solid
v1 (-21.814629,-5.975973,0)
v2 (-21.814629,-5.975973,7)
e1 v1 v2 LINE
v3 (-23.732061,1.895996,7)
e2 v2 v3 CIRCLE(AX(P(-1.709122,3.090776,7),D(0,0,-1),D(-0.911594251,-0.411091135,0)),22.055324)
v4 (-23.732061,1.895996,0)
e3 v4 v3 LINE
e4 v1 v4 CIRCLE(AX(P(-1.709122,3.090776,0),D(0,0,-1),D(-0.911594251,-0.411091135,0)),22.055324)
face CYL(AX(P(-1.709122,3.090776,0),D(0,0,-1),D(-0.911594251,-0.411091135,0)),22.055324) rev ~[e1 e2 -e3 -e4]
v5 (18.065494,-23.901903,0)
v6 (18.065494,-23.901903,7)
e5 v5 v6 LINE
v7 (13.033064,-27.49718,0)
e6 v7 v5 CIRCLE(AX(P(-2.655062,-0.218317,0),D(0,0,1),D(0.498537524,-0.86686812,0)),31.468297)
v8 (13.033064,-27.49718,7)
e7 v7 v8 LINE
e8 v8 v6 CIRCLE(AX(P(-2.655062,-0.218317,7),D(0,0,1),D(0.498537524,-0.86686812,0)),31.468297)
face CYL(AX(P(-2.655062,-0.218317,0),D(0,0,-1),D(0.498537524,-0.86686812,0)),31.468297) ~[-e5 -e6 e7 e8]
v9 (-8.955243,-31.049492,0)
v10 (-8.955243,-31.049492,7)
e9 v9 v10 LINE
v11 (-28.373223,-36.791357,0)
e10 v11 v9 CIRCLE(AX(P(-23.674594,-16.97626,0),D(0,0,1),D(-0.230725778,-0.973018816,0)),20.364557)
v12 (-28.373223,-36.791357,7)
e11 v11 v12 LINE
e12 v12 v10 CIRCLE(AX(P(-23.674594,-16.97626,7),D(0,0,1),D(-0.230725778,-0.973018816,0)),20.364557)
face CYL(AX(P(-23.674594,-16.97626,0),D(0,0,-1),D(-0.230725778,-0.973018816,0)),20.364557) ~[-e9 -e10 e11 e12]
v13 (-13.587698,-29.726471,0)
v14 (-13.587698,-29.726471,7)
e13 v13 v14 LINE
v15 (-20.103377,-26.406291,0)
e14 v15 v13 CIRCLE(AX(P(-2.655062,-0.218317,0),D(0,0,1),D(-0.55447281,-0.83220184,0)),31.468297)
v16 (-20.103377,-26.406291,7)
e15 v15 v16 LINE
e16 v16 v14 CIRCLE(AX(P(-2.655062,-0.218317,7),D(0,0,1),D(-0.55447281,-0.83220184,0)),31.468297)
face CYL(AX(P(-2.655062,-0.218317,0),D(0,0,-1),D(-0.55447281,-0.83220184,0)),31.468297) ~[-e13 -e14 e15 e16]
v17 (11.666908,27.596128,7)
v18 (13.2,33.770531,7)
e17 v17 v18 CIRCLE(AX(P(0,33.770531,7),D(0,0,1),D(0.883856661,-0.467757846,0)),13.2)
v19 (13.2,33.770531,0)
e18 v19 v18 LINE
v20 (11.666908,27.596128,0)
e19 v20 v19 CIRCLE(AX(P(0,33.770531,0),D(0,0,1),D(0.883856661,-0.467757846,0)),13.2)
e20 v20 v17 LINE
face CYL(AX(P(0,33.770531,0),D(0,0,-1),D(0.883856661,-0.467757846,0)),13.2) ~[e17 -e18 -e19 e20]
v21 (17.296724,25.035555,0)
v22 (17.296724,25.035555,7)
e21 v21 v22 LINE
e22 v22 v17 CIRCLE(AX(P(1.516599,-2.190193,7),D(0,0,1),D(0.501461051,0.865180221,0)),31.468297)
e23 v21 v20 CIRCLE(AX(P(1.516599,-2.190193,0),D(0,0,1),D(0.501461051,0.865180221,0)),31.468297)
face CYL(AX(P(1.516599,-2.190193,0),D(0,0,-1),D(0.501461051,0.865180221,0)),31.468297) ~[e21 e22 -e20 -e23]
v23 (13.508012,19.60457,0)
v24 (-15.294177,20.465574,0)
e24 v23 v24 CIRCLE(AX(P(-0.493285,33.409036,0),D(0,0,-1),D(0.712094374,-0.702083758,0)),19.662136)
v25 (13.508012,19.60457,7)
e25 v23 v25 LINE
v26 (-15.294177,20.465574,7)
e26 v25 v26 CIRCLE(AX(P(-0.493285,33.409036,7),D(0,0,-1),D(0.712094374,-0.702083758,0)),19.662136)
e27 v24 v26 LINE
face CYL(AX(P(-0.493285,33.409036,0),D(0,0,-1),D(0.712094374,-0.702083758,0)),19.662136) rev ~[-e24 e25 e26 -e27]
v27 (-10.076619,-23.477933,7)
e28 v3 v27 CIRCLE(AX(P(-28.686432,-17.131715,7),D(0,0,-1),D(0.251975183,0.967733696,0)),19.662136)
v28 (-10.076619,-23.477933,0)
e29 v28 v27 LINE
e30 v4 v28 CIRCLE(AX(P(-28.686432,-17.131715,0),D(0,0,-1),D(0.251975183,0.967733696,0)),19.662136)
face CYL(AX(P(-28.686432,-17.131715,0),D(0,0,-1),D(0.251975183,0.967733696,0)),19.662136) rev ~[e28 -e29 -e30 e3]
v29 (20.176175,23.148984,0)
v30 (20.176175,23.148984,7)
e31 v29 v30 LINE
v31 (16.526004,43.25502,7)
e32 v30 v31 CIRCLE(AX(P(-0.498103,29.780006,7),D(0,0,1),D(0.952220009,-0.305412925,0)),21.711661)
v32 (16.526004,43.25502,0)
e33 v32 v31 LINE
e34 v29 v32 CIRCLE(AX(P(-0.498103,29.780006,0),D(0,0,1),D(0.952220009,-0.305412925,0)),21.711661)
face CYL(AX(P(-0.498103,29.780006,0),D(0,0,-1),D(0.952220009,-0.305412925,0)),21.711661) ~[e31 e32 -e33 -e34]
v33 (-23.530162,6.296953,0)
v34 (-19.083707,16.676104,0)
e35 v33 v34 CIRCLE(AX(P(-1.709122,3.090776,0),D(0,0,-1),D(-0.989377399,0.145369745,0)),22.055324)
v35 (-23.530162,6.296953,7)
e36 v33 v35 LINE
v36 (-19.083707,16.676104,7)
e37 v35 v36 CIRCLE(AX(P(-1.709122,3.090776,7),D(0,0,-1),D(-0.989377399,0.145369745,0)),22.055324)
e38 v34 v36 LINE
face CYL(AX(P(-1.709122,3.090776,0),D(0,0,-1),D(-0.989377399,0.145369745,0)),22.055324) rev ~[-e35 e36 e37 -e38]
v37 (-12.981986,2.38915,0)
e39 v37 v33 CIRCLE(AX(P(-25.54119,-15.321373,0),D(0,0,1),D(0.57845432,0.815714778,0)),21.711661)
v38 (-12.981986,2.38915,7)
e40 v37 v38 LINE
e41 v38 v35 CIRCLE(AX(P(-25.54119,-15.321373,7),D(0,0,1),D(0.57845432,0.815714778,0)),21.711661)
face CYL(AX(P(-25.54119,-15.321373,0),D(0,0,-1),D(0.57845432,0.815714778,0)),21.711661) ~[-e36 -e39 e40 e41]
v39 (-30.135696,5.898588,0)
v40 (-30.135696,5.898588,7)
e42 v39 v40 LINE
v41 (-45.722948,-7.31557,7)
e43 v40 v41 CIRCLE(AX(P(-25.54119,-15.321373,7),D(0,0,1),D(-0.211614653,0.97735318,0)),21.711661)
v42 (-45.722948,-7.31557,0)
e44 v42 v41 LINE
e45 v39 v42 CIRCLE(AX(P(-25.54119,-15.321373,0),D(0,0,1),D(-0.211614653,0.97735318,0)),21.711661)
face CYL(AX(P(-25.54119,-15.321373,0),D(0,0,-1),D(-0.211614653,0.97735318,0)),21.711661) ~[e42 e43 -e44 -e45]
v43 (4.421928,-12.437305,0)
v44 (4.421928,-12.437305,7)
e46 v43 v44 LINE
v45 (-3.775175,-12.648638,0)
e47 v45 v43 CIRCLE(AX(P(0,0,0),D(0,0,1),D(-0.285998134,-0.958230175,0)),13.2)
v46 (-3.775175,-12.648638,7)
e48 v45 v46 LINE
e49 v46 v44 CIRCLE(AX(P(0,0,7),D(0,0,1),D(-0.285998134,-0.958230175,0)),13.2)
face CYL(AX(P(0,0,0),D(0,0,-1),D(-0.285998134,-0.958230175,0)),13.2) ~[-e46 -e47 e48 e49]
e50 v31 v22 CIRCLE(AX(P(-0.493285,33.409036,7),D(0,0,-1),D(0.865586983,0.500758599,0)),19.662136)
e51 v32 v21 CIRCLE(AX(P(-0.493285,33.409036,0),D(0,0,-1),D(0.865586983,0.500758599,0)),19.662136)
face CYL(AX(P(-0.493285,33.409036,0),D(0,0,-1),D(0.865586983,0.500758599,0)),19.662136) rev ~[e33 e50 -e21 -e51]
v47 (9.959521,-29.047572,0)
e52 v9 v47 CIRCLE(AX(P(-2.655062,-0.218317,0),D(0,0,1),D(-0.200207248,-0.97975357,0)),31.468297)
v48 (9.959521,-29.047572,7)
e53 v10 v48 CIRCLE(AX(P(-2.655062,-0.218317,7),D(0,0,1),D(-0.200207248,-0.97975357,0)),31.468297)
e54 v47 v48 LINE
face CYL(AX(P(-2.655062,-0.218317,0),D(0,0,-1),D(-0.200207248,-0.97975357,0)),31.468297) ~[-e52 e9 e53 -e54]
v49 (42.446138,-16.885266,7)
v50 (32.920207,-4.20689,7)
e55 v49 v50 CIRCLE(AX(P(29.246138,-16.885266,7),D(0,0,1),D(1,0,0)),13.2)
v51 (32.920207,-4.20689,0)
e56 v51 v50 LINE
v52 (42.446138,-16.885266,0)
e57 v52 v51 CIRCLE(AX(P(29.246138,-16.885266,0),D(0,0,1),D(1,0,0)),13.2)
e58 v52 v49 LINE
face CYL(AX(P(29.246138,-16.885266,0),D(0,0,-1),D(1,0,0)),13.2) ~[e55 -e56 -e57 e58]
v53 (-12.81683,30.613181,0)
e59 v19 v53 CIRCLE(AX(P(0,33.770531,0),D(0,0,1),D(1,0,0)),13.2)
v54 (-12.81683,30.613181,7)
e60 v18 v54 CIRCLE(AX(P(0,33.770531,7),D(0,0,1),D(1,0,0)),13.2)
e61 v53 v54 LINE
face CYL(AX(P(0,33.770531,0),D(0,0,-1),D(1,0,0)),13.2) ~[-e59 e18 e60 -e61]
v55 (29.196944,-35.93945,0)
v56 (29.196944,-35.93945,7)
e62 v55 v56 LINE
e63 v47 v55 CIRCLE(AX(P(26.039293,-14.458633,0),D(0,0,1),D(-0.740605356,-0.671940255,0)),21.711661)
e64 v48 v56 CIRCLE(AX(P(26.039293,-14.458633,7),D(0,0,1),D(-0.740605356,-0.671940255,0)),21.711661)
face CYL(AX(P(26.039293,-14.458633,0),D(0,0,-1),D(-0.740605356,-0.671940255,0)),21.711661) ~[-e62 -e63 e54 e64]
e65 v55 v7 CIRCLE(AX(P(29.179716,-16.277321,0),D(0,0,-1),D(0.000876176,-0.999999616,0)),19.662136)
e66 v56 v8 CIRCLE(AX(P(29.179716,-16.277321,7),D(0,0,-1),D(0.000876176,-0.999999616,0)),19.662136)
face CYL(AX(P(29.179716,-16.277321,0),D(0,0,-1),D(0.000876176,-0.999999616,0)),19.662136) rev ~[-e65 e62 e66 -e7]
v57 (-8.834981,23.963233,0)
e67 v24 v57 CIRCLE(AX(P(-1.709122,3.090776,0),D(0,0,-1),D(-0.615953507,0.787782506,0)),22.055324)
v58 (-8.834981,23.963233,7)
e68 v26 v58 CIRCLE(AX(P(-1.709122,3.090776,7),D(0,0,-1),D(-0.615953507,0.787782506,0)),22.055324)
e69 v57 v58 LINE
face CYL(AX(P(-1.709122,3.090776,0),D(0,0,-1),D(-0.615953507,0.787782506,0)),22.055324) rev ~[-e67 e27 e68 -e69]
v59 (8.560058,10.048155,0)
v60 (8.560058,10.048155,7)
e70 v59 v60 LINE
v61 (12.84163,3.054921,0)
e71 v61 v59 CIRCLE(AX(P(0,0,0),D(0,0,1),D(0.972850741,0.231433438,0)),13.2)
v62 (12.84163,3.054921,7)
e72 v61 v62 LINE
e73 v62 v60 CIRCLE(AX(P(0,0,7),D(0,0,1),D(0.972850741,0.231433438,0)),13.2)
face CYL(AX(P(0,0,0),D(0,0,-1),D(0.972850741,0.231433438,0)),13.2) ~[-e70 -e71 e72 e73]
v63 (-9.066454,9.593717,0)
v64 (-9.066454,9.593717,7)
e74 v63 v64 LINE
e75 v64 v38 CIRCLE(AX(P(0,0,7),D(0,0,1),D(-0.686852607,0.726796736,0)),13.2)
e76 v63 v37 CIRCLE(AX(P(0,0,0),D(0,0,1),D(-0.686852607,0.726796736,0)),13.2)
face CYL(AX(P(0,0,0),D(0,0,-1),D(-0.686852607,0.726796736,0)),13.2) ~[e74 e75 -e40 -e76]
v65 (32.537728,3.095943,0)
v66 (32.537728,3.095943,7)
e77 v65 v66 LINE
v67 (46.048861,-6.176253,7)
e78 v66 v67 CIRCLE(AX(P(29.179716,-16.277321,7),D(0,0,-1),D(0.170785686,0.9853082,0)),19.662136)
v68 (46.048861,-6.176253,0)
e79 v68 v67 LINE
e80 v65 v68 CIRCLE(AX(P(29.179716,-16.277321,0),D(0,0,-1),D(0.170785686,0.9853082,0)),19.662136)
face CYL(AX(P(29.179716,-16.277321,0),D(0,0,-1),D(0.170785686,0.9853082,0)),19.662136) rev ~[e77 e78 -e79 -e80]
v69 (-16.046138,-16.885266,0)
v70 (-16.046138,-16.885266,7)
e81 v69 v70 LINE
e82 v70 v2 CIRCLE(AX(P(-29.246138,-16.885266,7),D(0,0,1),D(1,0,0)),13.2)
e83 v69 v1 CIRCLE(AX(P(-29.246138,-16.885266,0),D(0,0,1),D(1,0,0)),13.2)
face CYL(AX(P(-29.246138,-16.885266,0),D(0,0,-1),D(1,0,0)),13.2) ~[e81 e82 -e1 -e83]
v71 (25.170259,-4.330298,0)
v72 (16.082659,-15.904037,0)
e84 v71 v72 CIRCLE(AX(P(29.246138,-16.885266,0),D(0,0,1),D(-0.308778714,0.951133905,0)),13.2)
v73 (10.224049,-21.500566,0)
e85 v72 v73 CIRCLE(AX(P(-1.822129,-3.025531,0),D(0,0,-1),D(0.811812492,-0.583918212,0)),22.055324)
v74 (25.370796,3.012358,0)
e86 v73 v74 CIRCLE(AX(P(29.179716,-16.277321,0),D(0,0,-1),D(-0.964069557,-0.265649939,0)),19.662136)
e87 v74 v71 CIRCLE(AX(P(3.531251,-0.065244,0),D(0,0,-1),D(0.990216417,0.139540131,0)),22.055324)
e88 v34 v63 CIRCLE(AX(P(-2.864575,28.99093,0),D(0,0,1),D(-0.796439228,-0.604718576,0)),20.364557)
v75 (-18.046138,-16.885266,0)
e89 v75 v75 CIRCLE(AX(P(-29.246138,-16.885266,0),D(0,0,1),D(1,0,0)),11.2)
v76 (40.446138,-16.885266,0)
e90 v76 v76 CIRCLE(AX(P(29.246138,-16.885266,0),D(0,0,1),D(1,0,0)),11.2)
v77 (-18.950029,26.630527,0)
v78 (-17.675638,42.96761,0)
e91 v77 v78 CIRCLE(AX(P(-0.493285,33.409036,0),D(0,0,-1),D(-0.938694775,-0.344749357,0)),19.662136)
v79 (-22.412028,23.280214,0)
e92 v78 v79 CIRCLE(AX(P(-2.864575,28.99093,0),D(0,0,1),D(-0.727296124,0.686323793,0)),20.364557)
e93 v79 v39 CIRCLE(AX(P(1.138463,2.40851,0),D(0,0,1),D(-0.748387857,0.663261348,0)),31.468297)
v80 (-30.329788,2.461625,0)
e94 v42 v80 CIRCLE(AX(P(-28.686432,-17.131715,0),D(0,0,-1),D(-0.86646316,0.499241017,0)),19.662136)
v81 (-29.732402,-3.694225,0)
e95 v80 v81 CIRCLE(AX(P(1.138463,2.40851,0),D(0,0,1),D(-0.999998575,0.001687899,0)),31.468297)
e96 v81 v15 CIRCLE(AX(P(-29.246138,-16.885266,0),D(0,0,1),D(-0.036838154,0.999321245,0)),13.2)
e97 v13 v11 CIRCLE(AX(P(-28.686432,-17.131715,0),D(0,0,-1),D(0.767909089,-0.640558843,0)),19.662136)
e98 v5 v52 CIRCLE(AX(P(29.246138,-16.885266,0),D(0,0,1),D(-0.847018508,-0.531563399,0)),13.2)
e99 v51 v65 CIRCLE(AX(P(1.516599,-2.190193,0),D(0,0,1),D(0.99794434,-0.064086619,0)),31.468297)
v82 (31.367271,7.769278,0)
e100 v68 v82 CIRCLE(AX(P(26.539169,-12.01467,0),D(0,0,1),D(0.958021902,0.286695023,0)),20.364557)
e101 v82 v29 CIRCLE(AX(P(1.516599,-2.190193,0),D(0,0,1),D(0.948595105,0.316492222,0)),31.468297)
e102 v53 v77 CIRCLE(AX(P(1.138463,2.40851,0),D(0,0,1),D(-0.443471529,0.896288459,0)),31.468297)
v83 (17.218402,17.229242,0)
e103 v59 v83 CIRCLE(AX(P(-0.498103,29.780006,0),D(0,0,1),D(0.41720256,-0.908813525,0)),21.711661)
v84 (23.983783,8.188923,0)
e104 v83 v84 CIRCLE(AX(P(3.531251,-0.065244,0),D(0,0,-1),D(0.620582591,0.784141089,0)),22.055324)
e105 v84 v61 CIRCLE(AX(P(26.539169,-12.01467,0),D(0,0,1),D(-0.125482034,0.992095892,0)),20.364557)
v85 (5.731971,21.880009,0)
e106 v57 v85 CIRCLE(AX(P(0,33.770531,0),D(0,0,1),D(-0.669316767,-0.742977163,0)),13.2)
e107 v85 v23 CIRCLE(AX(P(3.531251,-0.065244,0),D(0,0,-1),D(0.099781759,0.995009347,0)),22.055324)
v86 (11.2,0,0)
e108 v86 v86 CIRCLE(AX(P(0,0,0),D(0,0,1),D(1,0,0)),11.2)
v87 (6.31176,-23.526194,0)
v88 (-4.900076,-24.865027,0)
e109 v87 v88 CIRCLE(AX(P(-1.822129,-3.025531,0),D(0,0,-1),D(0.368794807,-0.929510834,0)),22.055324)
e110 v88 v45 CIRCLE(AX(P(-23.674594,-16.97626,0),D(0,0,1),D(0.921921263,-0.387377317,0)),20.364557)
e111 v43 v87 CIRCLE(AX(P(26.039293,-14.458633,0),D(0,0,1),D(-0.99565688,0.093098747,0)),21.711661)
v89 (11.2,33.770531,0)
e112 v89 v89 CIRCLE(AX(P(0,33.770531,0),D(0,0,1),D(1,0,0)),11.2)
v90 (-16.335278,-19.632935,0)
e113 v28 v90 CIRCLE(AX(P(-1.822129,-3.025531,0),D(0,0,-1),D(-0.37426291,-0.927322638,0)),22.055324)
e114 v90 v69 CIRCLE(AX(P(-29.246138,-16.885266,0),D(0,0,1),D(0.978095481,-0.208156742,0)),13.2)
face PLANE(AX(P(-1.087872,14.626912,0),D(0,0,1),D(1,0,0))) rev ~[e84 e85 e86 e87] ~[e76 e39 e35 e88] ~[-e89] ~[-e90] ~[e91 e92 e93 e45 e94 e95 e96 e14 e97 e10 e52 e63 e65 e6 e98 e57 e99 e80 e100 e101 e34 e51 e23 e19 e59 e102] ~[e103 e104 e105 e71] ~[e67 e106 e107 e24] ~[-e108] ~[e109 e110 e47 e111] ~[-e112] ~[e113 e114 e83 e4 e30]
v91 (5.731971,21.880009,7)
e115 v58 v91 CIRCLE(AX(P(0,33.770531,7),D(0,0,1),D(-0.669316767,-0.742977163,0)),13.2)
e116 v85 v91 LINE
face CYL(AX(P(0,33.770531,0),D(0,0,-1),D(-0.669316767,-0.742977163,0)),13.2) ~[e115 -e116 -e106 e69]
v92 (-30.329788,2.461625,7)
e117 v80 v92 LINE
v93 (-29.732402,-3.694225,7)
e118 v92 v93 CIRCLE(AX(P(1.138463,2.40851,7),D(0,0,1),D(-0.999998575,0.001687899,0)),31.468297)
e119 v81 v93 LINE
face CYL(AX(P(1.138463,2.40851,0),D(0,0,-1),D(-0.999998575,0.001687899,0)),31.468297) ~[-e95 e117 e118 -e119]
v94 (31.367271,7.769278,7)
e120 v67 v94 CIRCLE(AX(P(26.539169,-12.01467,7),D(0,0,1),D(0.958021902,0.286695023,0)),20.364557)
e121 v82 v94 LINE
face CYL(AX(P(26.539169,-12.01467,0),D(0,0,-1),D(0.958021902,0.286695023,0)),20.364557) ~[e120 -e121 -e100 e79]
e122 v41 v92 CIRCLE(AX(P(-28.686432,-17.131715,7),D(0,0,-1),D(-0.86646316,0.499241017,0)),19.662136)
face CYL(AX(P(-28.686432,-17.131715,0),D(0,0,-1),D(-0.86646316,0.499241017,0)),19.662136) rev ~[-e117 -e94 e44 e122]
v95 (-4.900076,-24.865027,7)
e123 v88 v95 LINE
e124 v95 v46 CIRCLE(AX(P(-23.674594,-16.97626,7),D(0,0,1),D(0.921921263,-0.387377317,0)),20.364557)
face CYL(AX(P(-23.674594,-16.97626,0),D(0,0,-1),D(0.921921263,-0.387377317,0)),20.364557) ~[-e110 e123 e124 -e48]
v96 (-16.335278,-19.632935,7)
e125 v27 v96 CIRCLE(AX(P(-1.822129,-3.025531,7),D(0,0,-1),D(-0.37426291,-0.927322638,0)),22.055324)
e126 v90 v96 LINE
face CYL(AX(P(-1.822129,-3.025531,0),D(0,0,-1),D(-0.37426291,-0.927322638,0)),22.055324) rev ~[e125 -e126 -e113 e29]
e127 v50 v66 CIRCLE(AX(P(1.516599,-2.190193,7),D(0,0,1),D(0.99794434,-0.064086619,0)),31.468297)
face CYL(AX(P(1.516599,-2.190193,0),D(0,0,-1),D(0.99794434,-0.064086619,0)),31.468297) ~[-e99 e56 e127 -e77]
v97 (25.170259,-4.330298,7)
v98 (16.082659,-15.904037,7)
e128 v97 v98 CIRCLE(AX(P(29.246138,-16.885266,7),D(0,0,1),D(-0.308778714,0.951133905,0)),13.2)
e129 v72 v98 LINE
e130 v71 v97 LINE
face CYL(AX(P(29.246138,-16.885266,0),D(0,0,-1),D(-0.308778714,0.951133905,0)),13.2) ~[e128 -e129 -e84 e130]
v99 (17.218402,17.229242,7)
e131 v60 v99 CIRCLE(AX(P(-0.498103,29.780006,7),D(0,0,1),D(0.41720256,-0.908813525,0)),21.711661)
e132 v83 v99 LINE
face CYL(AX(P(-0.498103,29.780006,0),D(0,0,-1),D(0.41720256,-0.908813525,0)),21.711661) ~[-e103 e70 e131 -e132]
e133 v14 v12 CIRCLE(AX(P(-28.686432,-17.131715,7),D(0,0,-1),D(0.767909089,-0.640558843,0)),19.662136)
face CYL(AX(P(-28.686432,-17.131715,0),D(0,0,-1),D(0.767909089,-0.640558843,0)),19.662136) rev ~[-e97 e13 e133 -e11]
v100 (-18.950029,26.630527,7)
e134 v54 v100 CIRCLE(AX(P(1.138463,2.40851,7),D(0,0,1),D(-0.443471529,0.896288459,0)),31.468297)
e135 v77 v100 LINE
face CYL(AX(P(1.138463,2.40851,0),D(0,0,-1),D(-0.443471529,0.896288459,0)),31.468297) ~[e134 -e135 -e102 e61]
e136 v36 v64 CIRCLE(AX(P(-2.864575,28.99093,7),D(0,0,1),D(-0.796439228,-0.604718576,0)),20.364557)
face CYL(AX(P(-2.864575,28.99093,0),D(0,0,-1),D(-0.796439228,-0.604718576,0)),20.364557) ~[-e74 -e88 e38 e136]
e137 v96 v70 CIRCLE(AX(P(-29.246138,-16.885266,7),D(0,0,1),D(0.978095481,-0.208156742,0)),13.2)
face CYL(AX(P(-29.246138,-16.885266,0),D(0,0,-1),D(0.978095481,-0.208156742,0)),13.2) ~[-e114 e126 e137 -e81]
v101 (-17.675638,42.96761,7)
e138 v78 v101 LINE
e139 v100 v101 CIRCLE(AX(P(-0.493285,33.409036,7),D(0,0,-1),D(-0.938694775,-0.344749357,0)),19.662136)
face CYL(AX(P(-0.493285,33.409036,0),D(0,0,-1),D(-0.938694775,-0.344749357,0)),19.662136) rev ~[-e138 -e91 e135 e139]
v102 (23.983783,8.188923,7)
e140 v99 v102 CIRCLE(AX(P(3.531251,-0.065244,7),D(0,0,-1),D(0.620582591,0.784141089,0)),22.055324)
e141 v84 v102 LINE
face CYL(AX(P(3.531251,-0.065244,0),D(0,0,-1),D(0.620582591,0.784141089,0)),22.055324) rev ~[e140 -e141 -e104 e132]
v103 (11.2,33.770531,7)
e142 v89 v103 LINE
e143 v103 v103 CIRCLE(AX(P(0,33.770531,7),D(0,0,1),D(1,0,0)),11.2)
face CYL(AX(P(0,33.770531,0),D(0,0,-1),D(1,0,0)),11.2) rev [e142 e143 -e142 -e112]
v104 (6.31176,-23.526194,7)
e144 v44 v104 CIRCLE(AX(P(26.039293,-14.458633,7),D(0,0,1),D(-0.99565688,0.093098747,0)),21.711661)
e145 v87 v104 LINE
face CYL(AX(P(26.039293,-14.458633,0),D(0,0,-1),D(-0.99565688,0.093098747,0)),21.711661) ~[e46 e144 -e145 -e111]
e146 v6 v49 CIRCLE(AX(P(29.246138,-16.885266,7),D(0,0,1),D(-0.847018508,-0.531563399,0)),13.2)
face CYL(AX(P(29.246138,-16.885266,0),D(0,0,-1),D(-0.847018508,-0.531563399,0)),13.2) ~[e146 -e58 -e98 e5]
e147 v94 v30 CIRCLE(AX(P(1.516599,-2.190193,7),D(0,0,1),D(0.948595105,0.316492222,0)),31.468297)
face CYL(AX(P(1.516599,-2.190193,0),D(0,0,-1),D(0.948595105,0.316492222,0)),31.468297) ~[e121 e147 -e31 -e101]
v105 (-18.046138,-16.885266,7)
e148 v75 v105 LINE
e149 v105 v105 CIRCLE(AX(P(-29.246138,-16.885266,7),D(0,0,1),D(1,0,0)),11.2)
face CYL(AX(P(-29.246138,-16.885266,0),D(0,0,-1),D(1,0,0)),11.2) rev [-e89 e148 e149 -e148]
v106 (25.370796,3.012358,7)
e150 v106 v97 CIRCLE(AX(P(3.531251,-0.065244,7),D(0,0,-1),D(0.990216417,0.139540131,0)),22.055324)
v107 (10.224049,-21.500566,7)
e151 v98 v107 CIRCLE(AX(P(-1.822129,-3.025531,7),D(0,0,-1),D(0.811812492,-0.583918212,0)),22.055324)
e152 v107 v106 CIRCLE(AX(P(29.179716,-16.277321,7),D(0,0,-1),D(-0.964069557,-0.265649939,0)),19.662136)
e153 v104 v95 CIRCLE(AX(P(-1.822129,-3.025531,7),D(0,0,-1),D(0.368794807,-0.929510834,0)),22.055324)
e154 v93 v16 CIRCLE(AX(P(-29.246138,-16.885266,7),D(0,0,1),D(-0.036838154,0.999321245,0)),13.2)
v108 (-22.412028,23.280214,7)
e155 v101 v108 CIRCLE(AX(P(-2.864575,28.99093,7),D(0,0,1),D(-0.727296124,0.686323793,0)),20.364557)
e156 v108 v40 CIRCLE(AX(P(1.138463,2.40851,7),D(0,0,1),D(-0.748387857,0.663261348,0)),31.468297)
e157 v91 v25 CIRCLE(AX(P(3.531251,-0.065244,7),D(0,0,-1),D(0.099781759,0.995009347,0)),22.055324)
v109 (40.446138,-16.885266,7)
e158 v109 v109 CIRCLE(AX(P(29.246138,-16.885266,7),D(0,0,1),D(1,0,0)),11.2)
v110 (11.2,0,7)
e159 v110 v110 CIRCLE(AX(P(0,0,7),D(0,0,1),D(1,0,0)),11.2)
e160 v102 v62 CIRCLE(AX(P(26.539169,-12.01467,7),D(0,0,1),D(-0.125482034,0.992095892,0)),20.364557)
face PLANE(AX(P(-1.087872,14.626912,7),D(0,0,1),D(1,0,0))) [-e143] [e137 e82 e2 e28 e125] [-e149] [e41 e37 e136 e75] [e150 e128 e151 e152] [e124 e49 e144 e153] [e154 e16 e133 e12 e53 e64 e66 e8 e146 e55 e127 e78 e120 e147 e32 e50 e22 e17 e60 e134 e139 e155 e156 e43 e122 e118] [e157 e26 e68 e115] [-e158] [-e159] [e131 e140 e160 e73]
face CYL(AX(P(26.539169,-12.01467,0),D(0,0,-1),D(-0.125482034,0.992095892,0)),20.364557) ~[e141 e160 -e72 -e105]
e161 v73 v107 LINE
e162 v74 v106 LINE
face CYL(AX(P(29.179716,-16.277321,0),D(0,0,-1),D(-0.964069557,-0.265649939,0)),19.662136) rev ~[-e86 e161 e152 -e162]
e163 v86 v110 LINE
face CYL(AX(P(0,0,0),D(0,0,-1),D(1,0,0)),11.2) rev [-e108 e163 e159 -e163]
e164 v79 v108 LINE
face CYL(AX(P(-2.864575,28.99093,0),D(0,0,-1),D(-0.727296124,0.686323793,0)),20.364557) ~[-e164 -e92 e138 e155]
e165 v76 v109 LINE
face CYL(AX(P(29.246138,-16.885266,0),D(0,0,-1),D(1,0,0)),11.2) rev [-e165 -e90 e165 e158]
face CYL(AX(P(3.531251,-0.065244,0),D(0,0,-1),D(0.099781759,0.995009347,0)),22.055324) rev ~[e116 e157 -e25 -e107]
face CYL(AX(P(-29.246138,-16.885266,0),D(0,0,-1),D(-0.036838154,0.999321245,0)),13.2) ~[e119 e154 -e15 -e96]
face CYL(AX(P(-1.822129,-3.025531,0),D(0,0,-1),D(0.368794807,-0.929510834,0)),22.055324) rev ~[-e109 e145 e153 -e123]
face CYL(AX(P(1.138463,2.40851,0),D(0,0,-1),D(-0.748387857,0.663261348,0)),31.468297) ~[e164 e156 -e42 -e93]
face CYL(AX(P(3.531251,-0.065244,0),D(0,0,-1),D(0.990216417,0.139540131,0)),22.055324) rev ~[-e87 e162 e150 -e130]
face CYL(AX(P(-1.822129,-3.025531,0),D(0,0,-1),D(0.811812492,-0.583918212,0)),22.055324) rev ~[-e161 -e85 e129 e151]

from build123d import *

# Parameters (mm, degrees)
F0_R     = 11.2
F1_DEPTH = 7


with BuildPart() as f1:
    # F0 (on Top) → F1 (new body)
    with BuildSketch(Plane.XY):
        with BuildLine():
            ThreePointArc((-9.0664544139, 9.593716921), (-0.3402026464, 13.1956152626), (8.5600576622, 10.0481546973))
            ThreePointArc((8.5600576622, 10.0481546973), (13.3623688649, 13.0682272047), (17.2184018315, 17.229241576))
            ThreePointArc((17.2184018315, 17.229241576), (15.4226648447, 18.5097823264), (13.5080117048, 19.6045696542))
            ThreePointArc((13.5080117048, 19.6045696542), (-1.0807969762, 13.7556794158), (-15.2941767487, 20.4655744367))
            ThreePointArc((-15.2941767487, 20.4655744367), (-17.3044688505, 18.6863680779), (-19.0837069005, 16.676104025))
            ThreePointArc((-19.0837069005, 16.676104025), (-14.6210833504, 12.36265011), (-9.0664544139, 9.593716921))
        make_face()
        with BuildLine():
            ThreePointArc((12.8416297773, 3.0549213841), (13.1101013165, 1.5379348068), (13.2, 0))
            ThreePointArc((13.2, 0), (10.7844669514, -7.6115223559), (4.4219283979, -12.4373047419))
            ThreePointArc((4.4219283979, -12.4373047419), (4.6362323092, -18.1062644941), (6.311759977, -23.5261941867))
            ThreePointArc((6.311759977, -23.5261941867), (8.3186092908, -22.6113107128), (10.2240494984, -21.5005661181))
            ThreePointArc((10.2240494984, -21.5005661181), (12.4531663085, -5.9418420702), (25.3707957396, 3.012358376))
            ThreePointArc((25.3707957396, 3.012358376), (24.8351038852, 5.6429255846), (23.983783172, 8.1889229618))
            ThreePointArc((23.983783172, 8.1889229618), (18.0169107285, 6.4809045573), (12.8416297773, 3.0549213841))
        make_face()
        with BuildLine():
            ThreePointArc((-4.9000762715, -24.8650269867), (-3.3958273782, -18.8435546673), (-3.7751753634, -12.6486383052))
            ThreePointArc((-3.7751753634, -12.6486383052), (-11.2576367128, -6.8924317656), (-12.9819860601, 2.3891500447))
            ThreePointArc((-12.9819860601, 2.3891500447), (-17.9986011741, 5.0380372894), (-23.5301618085, 6.2969526107))
            ThreePointArc((-23.5301618085, 6.2969526107), (-23.7412741356, 4.1015283864), (-23.7320612032, 1.8959964639))
            ThreePointArc((-23.7320612032, 1.8959964639), (-11.3723693323, -7.8138373456), (-10.0766189909, -23.4779328127))
            ThreePointArc((-10.0766189909, -23.4779328127), (-7.5306350347, -24.3292936625), (-4.9000762715, -24.8650269867))
        make_face()
        with BuildLine():
            ThreePointArc((4.4219283979, -12.4373047419), (10.7844669514, -7.6115223559), (13.2, 0))
            ThreePointArc((13.2, 0), (13.1101013165, 1.5379348068), (12.8416297773, 3.0549213841))
            ThreePointArc((12.8416297773, 3.0549213841), (11.2576367128, 6.8924317656), (8.5600576622, 10.0481546973))
            ThreePointArc((8.5600576622, 10.0481546973), (-0.3402026464, 13.1956152626), (-9.0664544139, 9.593716921))
            ThreePointArc((-9.0664544139, 9.593716921), (-11.5978393592, 6.3031834971), (-12.9819860601, 2.3891500447))
            ThreePointArc((-12.9819860601, 2.3891500447), (-11.2576367128, -6.8924317656), (-3.7751753634, -12.6486383052))
            ThreePointArc((-3.7751753634, -12.6486383052), (0.3402026464, -13.1956152626), (4.4219283979, -12.4373047419))
        make_face()
        Circle(F0_R, mode=Mode.SUBTRACT)
        with BuildLine():
            ThreePointArc((32.9202071932, -4.2068897734), (29.0359709967, -3.6869389282), (25.1702590813, -4.330298158))
            ThreePointArc((25.1702590813, -4.330298158), (18.8640994661, -8.7333779701), (16.0826587078, -15.9040368123))
            ThreePointArc((16.0826587078, -15.9040368123), (16.4340128371, -20.0616545549), (18.0654938023, -23.9019025779))
            ThreePointArc((18.0654938023, -23.9019025779), (32.8968568839, -29.5703850374), (42.4461381055, -16.885265708))
            ThreePointArc((42.4461381055, -16.885265708), (39.79928247, -8.9561330933), (32.9202071932, -4.2068897734))
        make_face()
        with Locations((29.2461381055, -16.885265708)):
            Circle(F0_R, mode=Mode.SUBTRACT)
        with BuildLine():
            ThreePointArc((-20.1033770112, -26.4062908404), (-17.7109682723, -23.3024190426), (-16.3352777515, -19.6329347052))
            ThreePointArc((-16.3352777515, -19.6329347052), (-16.1186220291, -18.2666858697), (-16.0461381055, -16.885265708))
            ThreePointArc((-16.0461381055, -16.885265708), (-17.5770353805, -10.715011127), (-21.8146292561, -5.9759725952))
            ThreePointArc((-21.8146292561, -5.9759725952), (-25.5909089051, -4.2014453256), (-29.7324017324, -3.6942252757))
            ThreePointArc((-29.7324017324, -3.6942252757), (-41.3990479486, -22.0376226779), (-20.1033770112, -26.4062908404))
        make_face()
        with Locations((-29.2461381055, -16.885265708)):
            Circle(F0_R, mode=Mode.SUBTRACT)
        with BuildLine():
            ThreePointArc((-8.8349813298, 23.9632328632), (-1.8687225501, 20.7034783422), (5.7319705483, 21.8800094075))
            ThreePointArc((5.7319705483, 21.8800094075), (9.156896068, 24.2630998805), (11.6669079301, 27.5961278537))
            ThreePointArc((11.6669079301, 27.5961278537), (12.8109949785, 30.5895869554), (13.2, 33.7705314159))
            ThreePointArc((13.2, 33.7705314159), (-1.590258092, 46.8743888328), (-12.8168301819, 30.6131806138))
            ThreePointArc((-12.8168301819, 30.6131806138), (-11.3250027243, 26.9893579708), (-8.8349813298, 23.9632328632))
        make_face()
        with Locations((0, 33.7705314159)):
            Circle(F0_R, mode=Mode.SUBTRACT)
        with BuildLine():
            ThreePointArc((17.2184018315, 17.229241576), (21.1894312467, 13.1493694022), (23.983783172, 8.1889229618))
            ThreePointArc((23.983783172, 8.1889229618), (27.6947359518, 8.3170744376), (31.3672708376, 7.769278082))
            ThreePointArc((31.3672708376, 7.769278082), (26.9615371909, 16.3249034182), (20.1761751997, 23.1489840527))
            ThreePointArc((20.1761751997, 23.1489840527), (18.9241495267, 20.0757627051), (17.2184018315, 17.229241576))
        make_face()
        with BuildLine():
            ThreePointArc((5.7319705483, 21.8800094075), (9.725374259, 21.102423687), (13.5080117048, 19.6045696542))
            ThreePointArc((13.5080117048, 19.6045696542), (15.6326468091, 22.1594171164), (17.2967238329, 25.0355547244))
            ThreePointArc((17.2967238329, 25.0355547244), (14.5448752652, 26.4544870934), (11.6669079301, 27.5961278537))
            ThreePointArc((11.6669079301, 27.5961278537), (9.156896068, 24.2630998805), (5.7319705483, 21.8800094075))
        make_face()
        with BuildLine():
            ThreePointArc((13.5080117048, 19.6045696542), (15.4226648447, 18.5097823264), (17.2184018315, 17.229241576))
            ThreePointArc((17.2184018315, 17.229241576), (18.9241495267, 20.0757627051), (20.1761751997, 23.1489840527))
            ThreePointArc((20.1761751997, 23.1489840527), (18.7622662534, 24.1316731809), (17.2967238329, 25.0355547244))
            ThreePointArc((17.2967238329, 25.0355547244), (15.6326468091, 22.1594171164), (13.5080117048, 19.6045696542))
        make_face()
        with BuildLine():
            ThreePointArc((31.3672708376, 7.769278082), (27.6947359518, 8.3170744376), (23.983783172, 8.1889229618))
            ThreePointArc((23.983783172, 8.1889229618), (24.8351038852, 5.6429255846), (25.3707957396, 3.012358376))
            ThreePointArc((25.3707957396, 3.012358376), (28.9504210038, 3.3834783518), (32.5377278794, 3.0959432247))
            ThreePointArc((32.5377278794, 3.0959432247), (32.0420645208, 5.4550426378), (31.3672708376, 7.769278082))
        make_face()
        with BuildLine():
            ThreePointArc((32.5377278794, 3.0959432247), (28.9504210038, 3.3834783518), (25.3707957396, 3.012358376))
            ThreePointArc((25.3707957396, 3.012358376), (25.5783549003, -0.6673770248), (25.1702590813, -4.330298158))
            ThreePointArc((25.1702590813, -4.330298158), (29.0359709967, -3.6869389282), (32.9202071932, -4.2068897734))
            ThreePointArc((32.9202071932, -4.2068897734), (32.9418244088, -0.544325087), (32.5377278794, 3.0959432247))
        make_face()
        with BuildLine():
            ThreePointArc((46.0488609523, -6.1762533223), (40.5642006941, 2.7506157789), (31.3672708376, 7.769278082))
            ThreePointArc((31.3672708376, 7.769278082), (32.0420645208, 5.4550426378), (32.5377278794, 3.0959432247))
            ThreePointArc((32.5377278794, 3.0959432247), (40.3052666152, -0.0655431828), (46.0488609523, -6.1762533223))
        make_face()
        with BuildLine():
            ThreePointArc((17.2967238329, 25.0355547244), (18.7622662534, 24.1316731809), (20.1761751997, 23.1489840527))
            ThreePointArc((20.1761751997, 23.1489840527), (20.8643696401, 33.6582779676), (16.5260042995, 43.255019933))
            ThreePointArc((16.5260042995, 43.255019933), (19.1512826404, 34.2400403293), (17.2967238329, 25.0355547244))
        make_face()
        with BuildLine():
            ThreePointArc((-22.4120276069, 23.2802143517), (-21.0501657241, 19.8258076666), (-19.0837069005, 16.676104025))
            ThreePointArc((-19.0837069005, 16.676104025), (-17.3044688505, 18.6863680779), (-15.2941767487, 20.4655744367))
            ThreePointArc((-15.2941767487, 20.4655744367), (-17.4053887077, 23.3800608637), (-18.9500294209, 26.6305273126))
            ThreePointArc((-18.9500294209, 26.6305273126), (-20.7452377635, 25.0217205458), (-22.4120276069, 23.2802143517))
        make_face()
        with BuildLine():
            ThreePointArc((-18.9500294209, 26.6305273126), (-17.4053887077, 23.3800608637), (-15.2941767487, 20.4655744367))
            ThreePointArc((-15.2941767487, 20.4655744367), (-12.2112119927, 22.4851936431), (-8.8349813298, 23.9632328632))
            ThreePointArc((-8.8349813298, 23.9632328632), (-11.3250027243, 26.9893579708), (-12.8168301819, 30.6131806138))
            ThreePointArc((-12.8168301819, 30.6131806138), (-15.9995128512, 28.8006193285), (-18.9500294209, 26.6305273126))
        make_face()
        with BuildLine():
            ThreePointArc((-17.6756381989, 42.9676100612), (-22.6642034877, 33.7543203958), (-22.4120276069, 23.2802143517))
            ThreePointArc((-22.4120276069, 23.2802143517), (-20.7452377635, 25.0217205458), (-18.9500294209, 26.6305273126))
            ThreePointArc((-18.9500294209, 26.6305273126), (-20.0958712462, 34.9381563865), (-17.6756381989, 42.9676100612))
        make_face()
        with BuildLine():
            ThreePointArc((-23.5301618085, 6.2969526107), (-21.9824035694, 11.7759010503), (-19.0837069005, 16.676104025))
            ThreePointArc((-19.0837069005, 16.676104025), (-21.0501657241, 19.8258076666), (-22.4120276069, 23.2802143517))
            ThreePointArc((-22.4120276069, 23.2802143517), (-27.6185496699, 15.1869244233), (-30.1356958613, 5.8985882478))
            ThreePointArc((-30.1356958613, 5.8985882478), (-26.8481952663, 6.3509128826), (-23.5301618085, 6.2969526107))
        make_face()
        with BuildLine():
            ThreePointArc((-23.7320612032, 1.8959964639), (-23.7412741356, 4.1015283864), (-23.5301618085, 6.2969526107))
            ThreePointArc((-23.5301618085, 6.2969526107), (-26.8481952663, 6.3509128826), (-30.1356958613, 5.8985882478))
            ThreePointArc((-30.1356958613, 5.8985882478), (-30.2797751372, 4.1827626176), (-30.3297883056, 2.4616248793))
            ThreePointArc((-30.3297883056, 2.4616248793), (-27.0069415604, 2.4585607069), (-23.7320612032, 1.8959964639))
        make_face()
        with BuildLine():
            ThreePointArc((-30.3297883056, 2.4616248793), (-30.2797751372, 4.1827626176), (-30.1356958613, 5.8985882478))
            ThreePointArc((-30.1356958613, 5.8985882478), (-39.5811085877, 1.2399351585), (-45.7229482529, -7.3155704201))
            ThreePointArc((-45.7229482529, -7.3155704201), (-39.228386072, -0.534522883), (-30.3297883056, 2.4616248793))
        make_face()
        with BuildLine():
            ThreePointArc((-21.8146292561, -5.9759725952), (-23.1379221239, -2.1287906738), (-23.7320612032, 1.8959964639))
            ThreePointArc((-23.7320612032, 1.8959964639), (-27.0069415604, 2.4585607069), (-30.3297883056, 2.4616248793))
            ThreePointArc((-30.3297883056, 2.4616248793), (-30.1826954996, -0.6310120722), (-29.7324017324, -3.6942252757))
            ThreePointArc((-29.7324017324, -3.6942252757), (-25.5909089051, -4.2014453256), (-21.8146292561, -5.9759725952))
        make_face()
        with BuildLine():
            ThreePointArc((16.0826587078, -15.9040368123), (13.4125478648, -18.9736330131), (10.2240494984, -21.5005661181))
            ThreePointArc((10.2240494984, -21.5005661181), (11.3742947513, -24.6179778232), (13.0330644727, -27.4971796037))
            ThreePointArc((13.0330644727, -27.4971796037), (15.6378202344, -25.8234750212), (18.0654938023, -23.9019025779))
            ThreePointArc((18.0654938023, -23.9019025779), (16.4340128371, -20.0616545549), (16.0826587078, -15.9040368123))
        make_face()
        with BuildLine():
            ThreePointArc((10.2240494984, -21.5005661181), (8.3186092908, -22.6113107128), (6.311759977, -23.5261941867))
            ThreePointArc((6.311759977, -23.5261941867), (7.9240457396, -26.4266755877), (9.9595206616, -29.0475723005))
            ThreePointArc((9.9595206616, -29.0475723005), (11.5175088838, -28.3144357985), (13.0330644727, -27.4971796037))
            ThreePointArc((13.0330644727, -27.4971796037), (11.3742947513, -24.6179778232), (10.2240494984, -21.5005661181))
        make_face()
        with BuildLine():
            ThreePointArc((13.0330644727, -27.4971796037), (11.5175088838, -28.3144357985), (9.9595206616, -29.0475723005))
            ThreePointArc((9.9595206616, -29.0475723005), (18.7167389476, -34.8982131261), (29.1969439534, -35.9394495129))
            ThreePointArc((29.1969439534, -35.9394495129), (20.0771034316, -33.7055174463), (13.0330644727, -27.4971796037))
        make_face()
        with BuildLine():
            ThreePointArc((9.9595206616, -29.0475723005), (7.9240457396, -26.4266755877), (6.311759977, -23.5261941867))
            ThreePointArc((6.311759977, -23.5261941867), (0.7929723227, -24.9252704525), (-4.9000762715, -24.8650269867))
            ThreePointArc((-4.9000762715, -24.8650269867), (-6.6445702277, -28.1428821042), (-8.9552432307, -31.0494924337))
            ThreePointArc((-8.9552432307, -31.0494924337), (0.657012479, -31.5118278414), (9.9595206616, -29.0475723005))
        make_face()
        with BuildLine():
            ThreePointArc((-8.9552432307, -31.0494924337), (-6.6445702277, -28.1428821042), (-4.9000762715, -24.8650269867))
            ThreePointArc((-4.9000762715, -24.8650269867), (-7.5306350347, -24.3292936625), (-10.0766189909, -23.4779328127))
            ThreePointArc((-10.0766189909, -23.4779328127), (-11.5450322961, -26.7635392155), (-13.5876984584, -29.7264705373))
            ThreePointArc((-13.5876984584, -29.7264705373), (-11.2968267573, -30.4767631836), (-8.9552432307, -31.0494924337))
        make_face()
        with BuildLine():
            ThreePointArc((-13.5876984584, -29.7264705373), (-11.5450322961, -26.7635392155), (-10.0766189909, -23.4779328127))
            ThreePointArc((-10.0766189909, -23.4779328127), (-13.3671429076, -21.8178166183), (-16.3352777515, -19.6329347052))
            ThreePointArc((-16.3352777515, -19.6329347052), (-17.7109682723, -23.3024190426), (-20.1033770112, -26.4062908404))
            ThreePointArc((-20.1033770112, -26.4062908404), (-16.9423115576, -28.2562942415), (-13.5876984584, -29.7264705373))
        make_face()
        with BuildLine():
            ThreePointArc((-28.3732227534, -36.7913567389), (-17.8999972064, -36.5049361748), (-8.9552432307, -31.0494924337))
            ThreePointArc((-8.9552432307, -31.0494924337), (-11.2968267573, -30.4767631836), (-13.5876984584, -29.7264705373))
            ThreePointArc((-13.5876984584, -29.7264705373), (-20.209395369, -34.8726132037), (-28.3732227534, -36.7913567389))
        make_face()
    extrude(amount=F1_DEPTH)


solid = f1.part
